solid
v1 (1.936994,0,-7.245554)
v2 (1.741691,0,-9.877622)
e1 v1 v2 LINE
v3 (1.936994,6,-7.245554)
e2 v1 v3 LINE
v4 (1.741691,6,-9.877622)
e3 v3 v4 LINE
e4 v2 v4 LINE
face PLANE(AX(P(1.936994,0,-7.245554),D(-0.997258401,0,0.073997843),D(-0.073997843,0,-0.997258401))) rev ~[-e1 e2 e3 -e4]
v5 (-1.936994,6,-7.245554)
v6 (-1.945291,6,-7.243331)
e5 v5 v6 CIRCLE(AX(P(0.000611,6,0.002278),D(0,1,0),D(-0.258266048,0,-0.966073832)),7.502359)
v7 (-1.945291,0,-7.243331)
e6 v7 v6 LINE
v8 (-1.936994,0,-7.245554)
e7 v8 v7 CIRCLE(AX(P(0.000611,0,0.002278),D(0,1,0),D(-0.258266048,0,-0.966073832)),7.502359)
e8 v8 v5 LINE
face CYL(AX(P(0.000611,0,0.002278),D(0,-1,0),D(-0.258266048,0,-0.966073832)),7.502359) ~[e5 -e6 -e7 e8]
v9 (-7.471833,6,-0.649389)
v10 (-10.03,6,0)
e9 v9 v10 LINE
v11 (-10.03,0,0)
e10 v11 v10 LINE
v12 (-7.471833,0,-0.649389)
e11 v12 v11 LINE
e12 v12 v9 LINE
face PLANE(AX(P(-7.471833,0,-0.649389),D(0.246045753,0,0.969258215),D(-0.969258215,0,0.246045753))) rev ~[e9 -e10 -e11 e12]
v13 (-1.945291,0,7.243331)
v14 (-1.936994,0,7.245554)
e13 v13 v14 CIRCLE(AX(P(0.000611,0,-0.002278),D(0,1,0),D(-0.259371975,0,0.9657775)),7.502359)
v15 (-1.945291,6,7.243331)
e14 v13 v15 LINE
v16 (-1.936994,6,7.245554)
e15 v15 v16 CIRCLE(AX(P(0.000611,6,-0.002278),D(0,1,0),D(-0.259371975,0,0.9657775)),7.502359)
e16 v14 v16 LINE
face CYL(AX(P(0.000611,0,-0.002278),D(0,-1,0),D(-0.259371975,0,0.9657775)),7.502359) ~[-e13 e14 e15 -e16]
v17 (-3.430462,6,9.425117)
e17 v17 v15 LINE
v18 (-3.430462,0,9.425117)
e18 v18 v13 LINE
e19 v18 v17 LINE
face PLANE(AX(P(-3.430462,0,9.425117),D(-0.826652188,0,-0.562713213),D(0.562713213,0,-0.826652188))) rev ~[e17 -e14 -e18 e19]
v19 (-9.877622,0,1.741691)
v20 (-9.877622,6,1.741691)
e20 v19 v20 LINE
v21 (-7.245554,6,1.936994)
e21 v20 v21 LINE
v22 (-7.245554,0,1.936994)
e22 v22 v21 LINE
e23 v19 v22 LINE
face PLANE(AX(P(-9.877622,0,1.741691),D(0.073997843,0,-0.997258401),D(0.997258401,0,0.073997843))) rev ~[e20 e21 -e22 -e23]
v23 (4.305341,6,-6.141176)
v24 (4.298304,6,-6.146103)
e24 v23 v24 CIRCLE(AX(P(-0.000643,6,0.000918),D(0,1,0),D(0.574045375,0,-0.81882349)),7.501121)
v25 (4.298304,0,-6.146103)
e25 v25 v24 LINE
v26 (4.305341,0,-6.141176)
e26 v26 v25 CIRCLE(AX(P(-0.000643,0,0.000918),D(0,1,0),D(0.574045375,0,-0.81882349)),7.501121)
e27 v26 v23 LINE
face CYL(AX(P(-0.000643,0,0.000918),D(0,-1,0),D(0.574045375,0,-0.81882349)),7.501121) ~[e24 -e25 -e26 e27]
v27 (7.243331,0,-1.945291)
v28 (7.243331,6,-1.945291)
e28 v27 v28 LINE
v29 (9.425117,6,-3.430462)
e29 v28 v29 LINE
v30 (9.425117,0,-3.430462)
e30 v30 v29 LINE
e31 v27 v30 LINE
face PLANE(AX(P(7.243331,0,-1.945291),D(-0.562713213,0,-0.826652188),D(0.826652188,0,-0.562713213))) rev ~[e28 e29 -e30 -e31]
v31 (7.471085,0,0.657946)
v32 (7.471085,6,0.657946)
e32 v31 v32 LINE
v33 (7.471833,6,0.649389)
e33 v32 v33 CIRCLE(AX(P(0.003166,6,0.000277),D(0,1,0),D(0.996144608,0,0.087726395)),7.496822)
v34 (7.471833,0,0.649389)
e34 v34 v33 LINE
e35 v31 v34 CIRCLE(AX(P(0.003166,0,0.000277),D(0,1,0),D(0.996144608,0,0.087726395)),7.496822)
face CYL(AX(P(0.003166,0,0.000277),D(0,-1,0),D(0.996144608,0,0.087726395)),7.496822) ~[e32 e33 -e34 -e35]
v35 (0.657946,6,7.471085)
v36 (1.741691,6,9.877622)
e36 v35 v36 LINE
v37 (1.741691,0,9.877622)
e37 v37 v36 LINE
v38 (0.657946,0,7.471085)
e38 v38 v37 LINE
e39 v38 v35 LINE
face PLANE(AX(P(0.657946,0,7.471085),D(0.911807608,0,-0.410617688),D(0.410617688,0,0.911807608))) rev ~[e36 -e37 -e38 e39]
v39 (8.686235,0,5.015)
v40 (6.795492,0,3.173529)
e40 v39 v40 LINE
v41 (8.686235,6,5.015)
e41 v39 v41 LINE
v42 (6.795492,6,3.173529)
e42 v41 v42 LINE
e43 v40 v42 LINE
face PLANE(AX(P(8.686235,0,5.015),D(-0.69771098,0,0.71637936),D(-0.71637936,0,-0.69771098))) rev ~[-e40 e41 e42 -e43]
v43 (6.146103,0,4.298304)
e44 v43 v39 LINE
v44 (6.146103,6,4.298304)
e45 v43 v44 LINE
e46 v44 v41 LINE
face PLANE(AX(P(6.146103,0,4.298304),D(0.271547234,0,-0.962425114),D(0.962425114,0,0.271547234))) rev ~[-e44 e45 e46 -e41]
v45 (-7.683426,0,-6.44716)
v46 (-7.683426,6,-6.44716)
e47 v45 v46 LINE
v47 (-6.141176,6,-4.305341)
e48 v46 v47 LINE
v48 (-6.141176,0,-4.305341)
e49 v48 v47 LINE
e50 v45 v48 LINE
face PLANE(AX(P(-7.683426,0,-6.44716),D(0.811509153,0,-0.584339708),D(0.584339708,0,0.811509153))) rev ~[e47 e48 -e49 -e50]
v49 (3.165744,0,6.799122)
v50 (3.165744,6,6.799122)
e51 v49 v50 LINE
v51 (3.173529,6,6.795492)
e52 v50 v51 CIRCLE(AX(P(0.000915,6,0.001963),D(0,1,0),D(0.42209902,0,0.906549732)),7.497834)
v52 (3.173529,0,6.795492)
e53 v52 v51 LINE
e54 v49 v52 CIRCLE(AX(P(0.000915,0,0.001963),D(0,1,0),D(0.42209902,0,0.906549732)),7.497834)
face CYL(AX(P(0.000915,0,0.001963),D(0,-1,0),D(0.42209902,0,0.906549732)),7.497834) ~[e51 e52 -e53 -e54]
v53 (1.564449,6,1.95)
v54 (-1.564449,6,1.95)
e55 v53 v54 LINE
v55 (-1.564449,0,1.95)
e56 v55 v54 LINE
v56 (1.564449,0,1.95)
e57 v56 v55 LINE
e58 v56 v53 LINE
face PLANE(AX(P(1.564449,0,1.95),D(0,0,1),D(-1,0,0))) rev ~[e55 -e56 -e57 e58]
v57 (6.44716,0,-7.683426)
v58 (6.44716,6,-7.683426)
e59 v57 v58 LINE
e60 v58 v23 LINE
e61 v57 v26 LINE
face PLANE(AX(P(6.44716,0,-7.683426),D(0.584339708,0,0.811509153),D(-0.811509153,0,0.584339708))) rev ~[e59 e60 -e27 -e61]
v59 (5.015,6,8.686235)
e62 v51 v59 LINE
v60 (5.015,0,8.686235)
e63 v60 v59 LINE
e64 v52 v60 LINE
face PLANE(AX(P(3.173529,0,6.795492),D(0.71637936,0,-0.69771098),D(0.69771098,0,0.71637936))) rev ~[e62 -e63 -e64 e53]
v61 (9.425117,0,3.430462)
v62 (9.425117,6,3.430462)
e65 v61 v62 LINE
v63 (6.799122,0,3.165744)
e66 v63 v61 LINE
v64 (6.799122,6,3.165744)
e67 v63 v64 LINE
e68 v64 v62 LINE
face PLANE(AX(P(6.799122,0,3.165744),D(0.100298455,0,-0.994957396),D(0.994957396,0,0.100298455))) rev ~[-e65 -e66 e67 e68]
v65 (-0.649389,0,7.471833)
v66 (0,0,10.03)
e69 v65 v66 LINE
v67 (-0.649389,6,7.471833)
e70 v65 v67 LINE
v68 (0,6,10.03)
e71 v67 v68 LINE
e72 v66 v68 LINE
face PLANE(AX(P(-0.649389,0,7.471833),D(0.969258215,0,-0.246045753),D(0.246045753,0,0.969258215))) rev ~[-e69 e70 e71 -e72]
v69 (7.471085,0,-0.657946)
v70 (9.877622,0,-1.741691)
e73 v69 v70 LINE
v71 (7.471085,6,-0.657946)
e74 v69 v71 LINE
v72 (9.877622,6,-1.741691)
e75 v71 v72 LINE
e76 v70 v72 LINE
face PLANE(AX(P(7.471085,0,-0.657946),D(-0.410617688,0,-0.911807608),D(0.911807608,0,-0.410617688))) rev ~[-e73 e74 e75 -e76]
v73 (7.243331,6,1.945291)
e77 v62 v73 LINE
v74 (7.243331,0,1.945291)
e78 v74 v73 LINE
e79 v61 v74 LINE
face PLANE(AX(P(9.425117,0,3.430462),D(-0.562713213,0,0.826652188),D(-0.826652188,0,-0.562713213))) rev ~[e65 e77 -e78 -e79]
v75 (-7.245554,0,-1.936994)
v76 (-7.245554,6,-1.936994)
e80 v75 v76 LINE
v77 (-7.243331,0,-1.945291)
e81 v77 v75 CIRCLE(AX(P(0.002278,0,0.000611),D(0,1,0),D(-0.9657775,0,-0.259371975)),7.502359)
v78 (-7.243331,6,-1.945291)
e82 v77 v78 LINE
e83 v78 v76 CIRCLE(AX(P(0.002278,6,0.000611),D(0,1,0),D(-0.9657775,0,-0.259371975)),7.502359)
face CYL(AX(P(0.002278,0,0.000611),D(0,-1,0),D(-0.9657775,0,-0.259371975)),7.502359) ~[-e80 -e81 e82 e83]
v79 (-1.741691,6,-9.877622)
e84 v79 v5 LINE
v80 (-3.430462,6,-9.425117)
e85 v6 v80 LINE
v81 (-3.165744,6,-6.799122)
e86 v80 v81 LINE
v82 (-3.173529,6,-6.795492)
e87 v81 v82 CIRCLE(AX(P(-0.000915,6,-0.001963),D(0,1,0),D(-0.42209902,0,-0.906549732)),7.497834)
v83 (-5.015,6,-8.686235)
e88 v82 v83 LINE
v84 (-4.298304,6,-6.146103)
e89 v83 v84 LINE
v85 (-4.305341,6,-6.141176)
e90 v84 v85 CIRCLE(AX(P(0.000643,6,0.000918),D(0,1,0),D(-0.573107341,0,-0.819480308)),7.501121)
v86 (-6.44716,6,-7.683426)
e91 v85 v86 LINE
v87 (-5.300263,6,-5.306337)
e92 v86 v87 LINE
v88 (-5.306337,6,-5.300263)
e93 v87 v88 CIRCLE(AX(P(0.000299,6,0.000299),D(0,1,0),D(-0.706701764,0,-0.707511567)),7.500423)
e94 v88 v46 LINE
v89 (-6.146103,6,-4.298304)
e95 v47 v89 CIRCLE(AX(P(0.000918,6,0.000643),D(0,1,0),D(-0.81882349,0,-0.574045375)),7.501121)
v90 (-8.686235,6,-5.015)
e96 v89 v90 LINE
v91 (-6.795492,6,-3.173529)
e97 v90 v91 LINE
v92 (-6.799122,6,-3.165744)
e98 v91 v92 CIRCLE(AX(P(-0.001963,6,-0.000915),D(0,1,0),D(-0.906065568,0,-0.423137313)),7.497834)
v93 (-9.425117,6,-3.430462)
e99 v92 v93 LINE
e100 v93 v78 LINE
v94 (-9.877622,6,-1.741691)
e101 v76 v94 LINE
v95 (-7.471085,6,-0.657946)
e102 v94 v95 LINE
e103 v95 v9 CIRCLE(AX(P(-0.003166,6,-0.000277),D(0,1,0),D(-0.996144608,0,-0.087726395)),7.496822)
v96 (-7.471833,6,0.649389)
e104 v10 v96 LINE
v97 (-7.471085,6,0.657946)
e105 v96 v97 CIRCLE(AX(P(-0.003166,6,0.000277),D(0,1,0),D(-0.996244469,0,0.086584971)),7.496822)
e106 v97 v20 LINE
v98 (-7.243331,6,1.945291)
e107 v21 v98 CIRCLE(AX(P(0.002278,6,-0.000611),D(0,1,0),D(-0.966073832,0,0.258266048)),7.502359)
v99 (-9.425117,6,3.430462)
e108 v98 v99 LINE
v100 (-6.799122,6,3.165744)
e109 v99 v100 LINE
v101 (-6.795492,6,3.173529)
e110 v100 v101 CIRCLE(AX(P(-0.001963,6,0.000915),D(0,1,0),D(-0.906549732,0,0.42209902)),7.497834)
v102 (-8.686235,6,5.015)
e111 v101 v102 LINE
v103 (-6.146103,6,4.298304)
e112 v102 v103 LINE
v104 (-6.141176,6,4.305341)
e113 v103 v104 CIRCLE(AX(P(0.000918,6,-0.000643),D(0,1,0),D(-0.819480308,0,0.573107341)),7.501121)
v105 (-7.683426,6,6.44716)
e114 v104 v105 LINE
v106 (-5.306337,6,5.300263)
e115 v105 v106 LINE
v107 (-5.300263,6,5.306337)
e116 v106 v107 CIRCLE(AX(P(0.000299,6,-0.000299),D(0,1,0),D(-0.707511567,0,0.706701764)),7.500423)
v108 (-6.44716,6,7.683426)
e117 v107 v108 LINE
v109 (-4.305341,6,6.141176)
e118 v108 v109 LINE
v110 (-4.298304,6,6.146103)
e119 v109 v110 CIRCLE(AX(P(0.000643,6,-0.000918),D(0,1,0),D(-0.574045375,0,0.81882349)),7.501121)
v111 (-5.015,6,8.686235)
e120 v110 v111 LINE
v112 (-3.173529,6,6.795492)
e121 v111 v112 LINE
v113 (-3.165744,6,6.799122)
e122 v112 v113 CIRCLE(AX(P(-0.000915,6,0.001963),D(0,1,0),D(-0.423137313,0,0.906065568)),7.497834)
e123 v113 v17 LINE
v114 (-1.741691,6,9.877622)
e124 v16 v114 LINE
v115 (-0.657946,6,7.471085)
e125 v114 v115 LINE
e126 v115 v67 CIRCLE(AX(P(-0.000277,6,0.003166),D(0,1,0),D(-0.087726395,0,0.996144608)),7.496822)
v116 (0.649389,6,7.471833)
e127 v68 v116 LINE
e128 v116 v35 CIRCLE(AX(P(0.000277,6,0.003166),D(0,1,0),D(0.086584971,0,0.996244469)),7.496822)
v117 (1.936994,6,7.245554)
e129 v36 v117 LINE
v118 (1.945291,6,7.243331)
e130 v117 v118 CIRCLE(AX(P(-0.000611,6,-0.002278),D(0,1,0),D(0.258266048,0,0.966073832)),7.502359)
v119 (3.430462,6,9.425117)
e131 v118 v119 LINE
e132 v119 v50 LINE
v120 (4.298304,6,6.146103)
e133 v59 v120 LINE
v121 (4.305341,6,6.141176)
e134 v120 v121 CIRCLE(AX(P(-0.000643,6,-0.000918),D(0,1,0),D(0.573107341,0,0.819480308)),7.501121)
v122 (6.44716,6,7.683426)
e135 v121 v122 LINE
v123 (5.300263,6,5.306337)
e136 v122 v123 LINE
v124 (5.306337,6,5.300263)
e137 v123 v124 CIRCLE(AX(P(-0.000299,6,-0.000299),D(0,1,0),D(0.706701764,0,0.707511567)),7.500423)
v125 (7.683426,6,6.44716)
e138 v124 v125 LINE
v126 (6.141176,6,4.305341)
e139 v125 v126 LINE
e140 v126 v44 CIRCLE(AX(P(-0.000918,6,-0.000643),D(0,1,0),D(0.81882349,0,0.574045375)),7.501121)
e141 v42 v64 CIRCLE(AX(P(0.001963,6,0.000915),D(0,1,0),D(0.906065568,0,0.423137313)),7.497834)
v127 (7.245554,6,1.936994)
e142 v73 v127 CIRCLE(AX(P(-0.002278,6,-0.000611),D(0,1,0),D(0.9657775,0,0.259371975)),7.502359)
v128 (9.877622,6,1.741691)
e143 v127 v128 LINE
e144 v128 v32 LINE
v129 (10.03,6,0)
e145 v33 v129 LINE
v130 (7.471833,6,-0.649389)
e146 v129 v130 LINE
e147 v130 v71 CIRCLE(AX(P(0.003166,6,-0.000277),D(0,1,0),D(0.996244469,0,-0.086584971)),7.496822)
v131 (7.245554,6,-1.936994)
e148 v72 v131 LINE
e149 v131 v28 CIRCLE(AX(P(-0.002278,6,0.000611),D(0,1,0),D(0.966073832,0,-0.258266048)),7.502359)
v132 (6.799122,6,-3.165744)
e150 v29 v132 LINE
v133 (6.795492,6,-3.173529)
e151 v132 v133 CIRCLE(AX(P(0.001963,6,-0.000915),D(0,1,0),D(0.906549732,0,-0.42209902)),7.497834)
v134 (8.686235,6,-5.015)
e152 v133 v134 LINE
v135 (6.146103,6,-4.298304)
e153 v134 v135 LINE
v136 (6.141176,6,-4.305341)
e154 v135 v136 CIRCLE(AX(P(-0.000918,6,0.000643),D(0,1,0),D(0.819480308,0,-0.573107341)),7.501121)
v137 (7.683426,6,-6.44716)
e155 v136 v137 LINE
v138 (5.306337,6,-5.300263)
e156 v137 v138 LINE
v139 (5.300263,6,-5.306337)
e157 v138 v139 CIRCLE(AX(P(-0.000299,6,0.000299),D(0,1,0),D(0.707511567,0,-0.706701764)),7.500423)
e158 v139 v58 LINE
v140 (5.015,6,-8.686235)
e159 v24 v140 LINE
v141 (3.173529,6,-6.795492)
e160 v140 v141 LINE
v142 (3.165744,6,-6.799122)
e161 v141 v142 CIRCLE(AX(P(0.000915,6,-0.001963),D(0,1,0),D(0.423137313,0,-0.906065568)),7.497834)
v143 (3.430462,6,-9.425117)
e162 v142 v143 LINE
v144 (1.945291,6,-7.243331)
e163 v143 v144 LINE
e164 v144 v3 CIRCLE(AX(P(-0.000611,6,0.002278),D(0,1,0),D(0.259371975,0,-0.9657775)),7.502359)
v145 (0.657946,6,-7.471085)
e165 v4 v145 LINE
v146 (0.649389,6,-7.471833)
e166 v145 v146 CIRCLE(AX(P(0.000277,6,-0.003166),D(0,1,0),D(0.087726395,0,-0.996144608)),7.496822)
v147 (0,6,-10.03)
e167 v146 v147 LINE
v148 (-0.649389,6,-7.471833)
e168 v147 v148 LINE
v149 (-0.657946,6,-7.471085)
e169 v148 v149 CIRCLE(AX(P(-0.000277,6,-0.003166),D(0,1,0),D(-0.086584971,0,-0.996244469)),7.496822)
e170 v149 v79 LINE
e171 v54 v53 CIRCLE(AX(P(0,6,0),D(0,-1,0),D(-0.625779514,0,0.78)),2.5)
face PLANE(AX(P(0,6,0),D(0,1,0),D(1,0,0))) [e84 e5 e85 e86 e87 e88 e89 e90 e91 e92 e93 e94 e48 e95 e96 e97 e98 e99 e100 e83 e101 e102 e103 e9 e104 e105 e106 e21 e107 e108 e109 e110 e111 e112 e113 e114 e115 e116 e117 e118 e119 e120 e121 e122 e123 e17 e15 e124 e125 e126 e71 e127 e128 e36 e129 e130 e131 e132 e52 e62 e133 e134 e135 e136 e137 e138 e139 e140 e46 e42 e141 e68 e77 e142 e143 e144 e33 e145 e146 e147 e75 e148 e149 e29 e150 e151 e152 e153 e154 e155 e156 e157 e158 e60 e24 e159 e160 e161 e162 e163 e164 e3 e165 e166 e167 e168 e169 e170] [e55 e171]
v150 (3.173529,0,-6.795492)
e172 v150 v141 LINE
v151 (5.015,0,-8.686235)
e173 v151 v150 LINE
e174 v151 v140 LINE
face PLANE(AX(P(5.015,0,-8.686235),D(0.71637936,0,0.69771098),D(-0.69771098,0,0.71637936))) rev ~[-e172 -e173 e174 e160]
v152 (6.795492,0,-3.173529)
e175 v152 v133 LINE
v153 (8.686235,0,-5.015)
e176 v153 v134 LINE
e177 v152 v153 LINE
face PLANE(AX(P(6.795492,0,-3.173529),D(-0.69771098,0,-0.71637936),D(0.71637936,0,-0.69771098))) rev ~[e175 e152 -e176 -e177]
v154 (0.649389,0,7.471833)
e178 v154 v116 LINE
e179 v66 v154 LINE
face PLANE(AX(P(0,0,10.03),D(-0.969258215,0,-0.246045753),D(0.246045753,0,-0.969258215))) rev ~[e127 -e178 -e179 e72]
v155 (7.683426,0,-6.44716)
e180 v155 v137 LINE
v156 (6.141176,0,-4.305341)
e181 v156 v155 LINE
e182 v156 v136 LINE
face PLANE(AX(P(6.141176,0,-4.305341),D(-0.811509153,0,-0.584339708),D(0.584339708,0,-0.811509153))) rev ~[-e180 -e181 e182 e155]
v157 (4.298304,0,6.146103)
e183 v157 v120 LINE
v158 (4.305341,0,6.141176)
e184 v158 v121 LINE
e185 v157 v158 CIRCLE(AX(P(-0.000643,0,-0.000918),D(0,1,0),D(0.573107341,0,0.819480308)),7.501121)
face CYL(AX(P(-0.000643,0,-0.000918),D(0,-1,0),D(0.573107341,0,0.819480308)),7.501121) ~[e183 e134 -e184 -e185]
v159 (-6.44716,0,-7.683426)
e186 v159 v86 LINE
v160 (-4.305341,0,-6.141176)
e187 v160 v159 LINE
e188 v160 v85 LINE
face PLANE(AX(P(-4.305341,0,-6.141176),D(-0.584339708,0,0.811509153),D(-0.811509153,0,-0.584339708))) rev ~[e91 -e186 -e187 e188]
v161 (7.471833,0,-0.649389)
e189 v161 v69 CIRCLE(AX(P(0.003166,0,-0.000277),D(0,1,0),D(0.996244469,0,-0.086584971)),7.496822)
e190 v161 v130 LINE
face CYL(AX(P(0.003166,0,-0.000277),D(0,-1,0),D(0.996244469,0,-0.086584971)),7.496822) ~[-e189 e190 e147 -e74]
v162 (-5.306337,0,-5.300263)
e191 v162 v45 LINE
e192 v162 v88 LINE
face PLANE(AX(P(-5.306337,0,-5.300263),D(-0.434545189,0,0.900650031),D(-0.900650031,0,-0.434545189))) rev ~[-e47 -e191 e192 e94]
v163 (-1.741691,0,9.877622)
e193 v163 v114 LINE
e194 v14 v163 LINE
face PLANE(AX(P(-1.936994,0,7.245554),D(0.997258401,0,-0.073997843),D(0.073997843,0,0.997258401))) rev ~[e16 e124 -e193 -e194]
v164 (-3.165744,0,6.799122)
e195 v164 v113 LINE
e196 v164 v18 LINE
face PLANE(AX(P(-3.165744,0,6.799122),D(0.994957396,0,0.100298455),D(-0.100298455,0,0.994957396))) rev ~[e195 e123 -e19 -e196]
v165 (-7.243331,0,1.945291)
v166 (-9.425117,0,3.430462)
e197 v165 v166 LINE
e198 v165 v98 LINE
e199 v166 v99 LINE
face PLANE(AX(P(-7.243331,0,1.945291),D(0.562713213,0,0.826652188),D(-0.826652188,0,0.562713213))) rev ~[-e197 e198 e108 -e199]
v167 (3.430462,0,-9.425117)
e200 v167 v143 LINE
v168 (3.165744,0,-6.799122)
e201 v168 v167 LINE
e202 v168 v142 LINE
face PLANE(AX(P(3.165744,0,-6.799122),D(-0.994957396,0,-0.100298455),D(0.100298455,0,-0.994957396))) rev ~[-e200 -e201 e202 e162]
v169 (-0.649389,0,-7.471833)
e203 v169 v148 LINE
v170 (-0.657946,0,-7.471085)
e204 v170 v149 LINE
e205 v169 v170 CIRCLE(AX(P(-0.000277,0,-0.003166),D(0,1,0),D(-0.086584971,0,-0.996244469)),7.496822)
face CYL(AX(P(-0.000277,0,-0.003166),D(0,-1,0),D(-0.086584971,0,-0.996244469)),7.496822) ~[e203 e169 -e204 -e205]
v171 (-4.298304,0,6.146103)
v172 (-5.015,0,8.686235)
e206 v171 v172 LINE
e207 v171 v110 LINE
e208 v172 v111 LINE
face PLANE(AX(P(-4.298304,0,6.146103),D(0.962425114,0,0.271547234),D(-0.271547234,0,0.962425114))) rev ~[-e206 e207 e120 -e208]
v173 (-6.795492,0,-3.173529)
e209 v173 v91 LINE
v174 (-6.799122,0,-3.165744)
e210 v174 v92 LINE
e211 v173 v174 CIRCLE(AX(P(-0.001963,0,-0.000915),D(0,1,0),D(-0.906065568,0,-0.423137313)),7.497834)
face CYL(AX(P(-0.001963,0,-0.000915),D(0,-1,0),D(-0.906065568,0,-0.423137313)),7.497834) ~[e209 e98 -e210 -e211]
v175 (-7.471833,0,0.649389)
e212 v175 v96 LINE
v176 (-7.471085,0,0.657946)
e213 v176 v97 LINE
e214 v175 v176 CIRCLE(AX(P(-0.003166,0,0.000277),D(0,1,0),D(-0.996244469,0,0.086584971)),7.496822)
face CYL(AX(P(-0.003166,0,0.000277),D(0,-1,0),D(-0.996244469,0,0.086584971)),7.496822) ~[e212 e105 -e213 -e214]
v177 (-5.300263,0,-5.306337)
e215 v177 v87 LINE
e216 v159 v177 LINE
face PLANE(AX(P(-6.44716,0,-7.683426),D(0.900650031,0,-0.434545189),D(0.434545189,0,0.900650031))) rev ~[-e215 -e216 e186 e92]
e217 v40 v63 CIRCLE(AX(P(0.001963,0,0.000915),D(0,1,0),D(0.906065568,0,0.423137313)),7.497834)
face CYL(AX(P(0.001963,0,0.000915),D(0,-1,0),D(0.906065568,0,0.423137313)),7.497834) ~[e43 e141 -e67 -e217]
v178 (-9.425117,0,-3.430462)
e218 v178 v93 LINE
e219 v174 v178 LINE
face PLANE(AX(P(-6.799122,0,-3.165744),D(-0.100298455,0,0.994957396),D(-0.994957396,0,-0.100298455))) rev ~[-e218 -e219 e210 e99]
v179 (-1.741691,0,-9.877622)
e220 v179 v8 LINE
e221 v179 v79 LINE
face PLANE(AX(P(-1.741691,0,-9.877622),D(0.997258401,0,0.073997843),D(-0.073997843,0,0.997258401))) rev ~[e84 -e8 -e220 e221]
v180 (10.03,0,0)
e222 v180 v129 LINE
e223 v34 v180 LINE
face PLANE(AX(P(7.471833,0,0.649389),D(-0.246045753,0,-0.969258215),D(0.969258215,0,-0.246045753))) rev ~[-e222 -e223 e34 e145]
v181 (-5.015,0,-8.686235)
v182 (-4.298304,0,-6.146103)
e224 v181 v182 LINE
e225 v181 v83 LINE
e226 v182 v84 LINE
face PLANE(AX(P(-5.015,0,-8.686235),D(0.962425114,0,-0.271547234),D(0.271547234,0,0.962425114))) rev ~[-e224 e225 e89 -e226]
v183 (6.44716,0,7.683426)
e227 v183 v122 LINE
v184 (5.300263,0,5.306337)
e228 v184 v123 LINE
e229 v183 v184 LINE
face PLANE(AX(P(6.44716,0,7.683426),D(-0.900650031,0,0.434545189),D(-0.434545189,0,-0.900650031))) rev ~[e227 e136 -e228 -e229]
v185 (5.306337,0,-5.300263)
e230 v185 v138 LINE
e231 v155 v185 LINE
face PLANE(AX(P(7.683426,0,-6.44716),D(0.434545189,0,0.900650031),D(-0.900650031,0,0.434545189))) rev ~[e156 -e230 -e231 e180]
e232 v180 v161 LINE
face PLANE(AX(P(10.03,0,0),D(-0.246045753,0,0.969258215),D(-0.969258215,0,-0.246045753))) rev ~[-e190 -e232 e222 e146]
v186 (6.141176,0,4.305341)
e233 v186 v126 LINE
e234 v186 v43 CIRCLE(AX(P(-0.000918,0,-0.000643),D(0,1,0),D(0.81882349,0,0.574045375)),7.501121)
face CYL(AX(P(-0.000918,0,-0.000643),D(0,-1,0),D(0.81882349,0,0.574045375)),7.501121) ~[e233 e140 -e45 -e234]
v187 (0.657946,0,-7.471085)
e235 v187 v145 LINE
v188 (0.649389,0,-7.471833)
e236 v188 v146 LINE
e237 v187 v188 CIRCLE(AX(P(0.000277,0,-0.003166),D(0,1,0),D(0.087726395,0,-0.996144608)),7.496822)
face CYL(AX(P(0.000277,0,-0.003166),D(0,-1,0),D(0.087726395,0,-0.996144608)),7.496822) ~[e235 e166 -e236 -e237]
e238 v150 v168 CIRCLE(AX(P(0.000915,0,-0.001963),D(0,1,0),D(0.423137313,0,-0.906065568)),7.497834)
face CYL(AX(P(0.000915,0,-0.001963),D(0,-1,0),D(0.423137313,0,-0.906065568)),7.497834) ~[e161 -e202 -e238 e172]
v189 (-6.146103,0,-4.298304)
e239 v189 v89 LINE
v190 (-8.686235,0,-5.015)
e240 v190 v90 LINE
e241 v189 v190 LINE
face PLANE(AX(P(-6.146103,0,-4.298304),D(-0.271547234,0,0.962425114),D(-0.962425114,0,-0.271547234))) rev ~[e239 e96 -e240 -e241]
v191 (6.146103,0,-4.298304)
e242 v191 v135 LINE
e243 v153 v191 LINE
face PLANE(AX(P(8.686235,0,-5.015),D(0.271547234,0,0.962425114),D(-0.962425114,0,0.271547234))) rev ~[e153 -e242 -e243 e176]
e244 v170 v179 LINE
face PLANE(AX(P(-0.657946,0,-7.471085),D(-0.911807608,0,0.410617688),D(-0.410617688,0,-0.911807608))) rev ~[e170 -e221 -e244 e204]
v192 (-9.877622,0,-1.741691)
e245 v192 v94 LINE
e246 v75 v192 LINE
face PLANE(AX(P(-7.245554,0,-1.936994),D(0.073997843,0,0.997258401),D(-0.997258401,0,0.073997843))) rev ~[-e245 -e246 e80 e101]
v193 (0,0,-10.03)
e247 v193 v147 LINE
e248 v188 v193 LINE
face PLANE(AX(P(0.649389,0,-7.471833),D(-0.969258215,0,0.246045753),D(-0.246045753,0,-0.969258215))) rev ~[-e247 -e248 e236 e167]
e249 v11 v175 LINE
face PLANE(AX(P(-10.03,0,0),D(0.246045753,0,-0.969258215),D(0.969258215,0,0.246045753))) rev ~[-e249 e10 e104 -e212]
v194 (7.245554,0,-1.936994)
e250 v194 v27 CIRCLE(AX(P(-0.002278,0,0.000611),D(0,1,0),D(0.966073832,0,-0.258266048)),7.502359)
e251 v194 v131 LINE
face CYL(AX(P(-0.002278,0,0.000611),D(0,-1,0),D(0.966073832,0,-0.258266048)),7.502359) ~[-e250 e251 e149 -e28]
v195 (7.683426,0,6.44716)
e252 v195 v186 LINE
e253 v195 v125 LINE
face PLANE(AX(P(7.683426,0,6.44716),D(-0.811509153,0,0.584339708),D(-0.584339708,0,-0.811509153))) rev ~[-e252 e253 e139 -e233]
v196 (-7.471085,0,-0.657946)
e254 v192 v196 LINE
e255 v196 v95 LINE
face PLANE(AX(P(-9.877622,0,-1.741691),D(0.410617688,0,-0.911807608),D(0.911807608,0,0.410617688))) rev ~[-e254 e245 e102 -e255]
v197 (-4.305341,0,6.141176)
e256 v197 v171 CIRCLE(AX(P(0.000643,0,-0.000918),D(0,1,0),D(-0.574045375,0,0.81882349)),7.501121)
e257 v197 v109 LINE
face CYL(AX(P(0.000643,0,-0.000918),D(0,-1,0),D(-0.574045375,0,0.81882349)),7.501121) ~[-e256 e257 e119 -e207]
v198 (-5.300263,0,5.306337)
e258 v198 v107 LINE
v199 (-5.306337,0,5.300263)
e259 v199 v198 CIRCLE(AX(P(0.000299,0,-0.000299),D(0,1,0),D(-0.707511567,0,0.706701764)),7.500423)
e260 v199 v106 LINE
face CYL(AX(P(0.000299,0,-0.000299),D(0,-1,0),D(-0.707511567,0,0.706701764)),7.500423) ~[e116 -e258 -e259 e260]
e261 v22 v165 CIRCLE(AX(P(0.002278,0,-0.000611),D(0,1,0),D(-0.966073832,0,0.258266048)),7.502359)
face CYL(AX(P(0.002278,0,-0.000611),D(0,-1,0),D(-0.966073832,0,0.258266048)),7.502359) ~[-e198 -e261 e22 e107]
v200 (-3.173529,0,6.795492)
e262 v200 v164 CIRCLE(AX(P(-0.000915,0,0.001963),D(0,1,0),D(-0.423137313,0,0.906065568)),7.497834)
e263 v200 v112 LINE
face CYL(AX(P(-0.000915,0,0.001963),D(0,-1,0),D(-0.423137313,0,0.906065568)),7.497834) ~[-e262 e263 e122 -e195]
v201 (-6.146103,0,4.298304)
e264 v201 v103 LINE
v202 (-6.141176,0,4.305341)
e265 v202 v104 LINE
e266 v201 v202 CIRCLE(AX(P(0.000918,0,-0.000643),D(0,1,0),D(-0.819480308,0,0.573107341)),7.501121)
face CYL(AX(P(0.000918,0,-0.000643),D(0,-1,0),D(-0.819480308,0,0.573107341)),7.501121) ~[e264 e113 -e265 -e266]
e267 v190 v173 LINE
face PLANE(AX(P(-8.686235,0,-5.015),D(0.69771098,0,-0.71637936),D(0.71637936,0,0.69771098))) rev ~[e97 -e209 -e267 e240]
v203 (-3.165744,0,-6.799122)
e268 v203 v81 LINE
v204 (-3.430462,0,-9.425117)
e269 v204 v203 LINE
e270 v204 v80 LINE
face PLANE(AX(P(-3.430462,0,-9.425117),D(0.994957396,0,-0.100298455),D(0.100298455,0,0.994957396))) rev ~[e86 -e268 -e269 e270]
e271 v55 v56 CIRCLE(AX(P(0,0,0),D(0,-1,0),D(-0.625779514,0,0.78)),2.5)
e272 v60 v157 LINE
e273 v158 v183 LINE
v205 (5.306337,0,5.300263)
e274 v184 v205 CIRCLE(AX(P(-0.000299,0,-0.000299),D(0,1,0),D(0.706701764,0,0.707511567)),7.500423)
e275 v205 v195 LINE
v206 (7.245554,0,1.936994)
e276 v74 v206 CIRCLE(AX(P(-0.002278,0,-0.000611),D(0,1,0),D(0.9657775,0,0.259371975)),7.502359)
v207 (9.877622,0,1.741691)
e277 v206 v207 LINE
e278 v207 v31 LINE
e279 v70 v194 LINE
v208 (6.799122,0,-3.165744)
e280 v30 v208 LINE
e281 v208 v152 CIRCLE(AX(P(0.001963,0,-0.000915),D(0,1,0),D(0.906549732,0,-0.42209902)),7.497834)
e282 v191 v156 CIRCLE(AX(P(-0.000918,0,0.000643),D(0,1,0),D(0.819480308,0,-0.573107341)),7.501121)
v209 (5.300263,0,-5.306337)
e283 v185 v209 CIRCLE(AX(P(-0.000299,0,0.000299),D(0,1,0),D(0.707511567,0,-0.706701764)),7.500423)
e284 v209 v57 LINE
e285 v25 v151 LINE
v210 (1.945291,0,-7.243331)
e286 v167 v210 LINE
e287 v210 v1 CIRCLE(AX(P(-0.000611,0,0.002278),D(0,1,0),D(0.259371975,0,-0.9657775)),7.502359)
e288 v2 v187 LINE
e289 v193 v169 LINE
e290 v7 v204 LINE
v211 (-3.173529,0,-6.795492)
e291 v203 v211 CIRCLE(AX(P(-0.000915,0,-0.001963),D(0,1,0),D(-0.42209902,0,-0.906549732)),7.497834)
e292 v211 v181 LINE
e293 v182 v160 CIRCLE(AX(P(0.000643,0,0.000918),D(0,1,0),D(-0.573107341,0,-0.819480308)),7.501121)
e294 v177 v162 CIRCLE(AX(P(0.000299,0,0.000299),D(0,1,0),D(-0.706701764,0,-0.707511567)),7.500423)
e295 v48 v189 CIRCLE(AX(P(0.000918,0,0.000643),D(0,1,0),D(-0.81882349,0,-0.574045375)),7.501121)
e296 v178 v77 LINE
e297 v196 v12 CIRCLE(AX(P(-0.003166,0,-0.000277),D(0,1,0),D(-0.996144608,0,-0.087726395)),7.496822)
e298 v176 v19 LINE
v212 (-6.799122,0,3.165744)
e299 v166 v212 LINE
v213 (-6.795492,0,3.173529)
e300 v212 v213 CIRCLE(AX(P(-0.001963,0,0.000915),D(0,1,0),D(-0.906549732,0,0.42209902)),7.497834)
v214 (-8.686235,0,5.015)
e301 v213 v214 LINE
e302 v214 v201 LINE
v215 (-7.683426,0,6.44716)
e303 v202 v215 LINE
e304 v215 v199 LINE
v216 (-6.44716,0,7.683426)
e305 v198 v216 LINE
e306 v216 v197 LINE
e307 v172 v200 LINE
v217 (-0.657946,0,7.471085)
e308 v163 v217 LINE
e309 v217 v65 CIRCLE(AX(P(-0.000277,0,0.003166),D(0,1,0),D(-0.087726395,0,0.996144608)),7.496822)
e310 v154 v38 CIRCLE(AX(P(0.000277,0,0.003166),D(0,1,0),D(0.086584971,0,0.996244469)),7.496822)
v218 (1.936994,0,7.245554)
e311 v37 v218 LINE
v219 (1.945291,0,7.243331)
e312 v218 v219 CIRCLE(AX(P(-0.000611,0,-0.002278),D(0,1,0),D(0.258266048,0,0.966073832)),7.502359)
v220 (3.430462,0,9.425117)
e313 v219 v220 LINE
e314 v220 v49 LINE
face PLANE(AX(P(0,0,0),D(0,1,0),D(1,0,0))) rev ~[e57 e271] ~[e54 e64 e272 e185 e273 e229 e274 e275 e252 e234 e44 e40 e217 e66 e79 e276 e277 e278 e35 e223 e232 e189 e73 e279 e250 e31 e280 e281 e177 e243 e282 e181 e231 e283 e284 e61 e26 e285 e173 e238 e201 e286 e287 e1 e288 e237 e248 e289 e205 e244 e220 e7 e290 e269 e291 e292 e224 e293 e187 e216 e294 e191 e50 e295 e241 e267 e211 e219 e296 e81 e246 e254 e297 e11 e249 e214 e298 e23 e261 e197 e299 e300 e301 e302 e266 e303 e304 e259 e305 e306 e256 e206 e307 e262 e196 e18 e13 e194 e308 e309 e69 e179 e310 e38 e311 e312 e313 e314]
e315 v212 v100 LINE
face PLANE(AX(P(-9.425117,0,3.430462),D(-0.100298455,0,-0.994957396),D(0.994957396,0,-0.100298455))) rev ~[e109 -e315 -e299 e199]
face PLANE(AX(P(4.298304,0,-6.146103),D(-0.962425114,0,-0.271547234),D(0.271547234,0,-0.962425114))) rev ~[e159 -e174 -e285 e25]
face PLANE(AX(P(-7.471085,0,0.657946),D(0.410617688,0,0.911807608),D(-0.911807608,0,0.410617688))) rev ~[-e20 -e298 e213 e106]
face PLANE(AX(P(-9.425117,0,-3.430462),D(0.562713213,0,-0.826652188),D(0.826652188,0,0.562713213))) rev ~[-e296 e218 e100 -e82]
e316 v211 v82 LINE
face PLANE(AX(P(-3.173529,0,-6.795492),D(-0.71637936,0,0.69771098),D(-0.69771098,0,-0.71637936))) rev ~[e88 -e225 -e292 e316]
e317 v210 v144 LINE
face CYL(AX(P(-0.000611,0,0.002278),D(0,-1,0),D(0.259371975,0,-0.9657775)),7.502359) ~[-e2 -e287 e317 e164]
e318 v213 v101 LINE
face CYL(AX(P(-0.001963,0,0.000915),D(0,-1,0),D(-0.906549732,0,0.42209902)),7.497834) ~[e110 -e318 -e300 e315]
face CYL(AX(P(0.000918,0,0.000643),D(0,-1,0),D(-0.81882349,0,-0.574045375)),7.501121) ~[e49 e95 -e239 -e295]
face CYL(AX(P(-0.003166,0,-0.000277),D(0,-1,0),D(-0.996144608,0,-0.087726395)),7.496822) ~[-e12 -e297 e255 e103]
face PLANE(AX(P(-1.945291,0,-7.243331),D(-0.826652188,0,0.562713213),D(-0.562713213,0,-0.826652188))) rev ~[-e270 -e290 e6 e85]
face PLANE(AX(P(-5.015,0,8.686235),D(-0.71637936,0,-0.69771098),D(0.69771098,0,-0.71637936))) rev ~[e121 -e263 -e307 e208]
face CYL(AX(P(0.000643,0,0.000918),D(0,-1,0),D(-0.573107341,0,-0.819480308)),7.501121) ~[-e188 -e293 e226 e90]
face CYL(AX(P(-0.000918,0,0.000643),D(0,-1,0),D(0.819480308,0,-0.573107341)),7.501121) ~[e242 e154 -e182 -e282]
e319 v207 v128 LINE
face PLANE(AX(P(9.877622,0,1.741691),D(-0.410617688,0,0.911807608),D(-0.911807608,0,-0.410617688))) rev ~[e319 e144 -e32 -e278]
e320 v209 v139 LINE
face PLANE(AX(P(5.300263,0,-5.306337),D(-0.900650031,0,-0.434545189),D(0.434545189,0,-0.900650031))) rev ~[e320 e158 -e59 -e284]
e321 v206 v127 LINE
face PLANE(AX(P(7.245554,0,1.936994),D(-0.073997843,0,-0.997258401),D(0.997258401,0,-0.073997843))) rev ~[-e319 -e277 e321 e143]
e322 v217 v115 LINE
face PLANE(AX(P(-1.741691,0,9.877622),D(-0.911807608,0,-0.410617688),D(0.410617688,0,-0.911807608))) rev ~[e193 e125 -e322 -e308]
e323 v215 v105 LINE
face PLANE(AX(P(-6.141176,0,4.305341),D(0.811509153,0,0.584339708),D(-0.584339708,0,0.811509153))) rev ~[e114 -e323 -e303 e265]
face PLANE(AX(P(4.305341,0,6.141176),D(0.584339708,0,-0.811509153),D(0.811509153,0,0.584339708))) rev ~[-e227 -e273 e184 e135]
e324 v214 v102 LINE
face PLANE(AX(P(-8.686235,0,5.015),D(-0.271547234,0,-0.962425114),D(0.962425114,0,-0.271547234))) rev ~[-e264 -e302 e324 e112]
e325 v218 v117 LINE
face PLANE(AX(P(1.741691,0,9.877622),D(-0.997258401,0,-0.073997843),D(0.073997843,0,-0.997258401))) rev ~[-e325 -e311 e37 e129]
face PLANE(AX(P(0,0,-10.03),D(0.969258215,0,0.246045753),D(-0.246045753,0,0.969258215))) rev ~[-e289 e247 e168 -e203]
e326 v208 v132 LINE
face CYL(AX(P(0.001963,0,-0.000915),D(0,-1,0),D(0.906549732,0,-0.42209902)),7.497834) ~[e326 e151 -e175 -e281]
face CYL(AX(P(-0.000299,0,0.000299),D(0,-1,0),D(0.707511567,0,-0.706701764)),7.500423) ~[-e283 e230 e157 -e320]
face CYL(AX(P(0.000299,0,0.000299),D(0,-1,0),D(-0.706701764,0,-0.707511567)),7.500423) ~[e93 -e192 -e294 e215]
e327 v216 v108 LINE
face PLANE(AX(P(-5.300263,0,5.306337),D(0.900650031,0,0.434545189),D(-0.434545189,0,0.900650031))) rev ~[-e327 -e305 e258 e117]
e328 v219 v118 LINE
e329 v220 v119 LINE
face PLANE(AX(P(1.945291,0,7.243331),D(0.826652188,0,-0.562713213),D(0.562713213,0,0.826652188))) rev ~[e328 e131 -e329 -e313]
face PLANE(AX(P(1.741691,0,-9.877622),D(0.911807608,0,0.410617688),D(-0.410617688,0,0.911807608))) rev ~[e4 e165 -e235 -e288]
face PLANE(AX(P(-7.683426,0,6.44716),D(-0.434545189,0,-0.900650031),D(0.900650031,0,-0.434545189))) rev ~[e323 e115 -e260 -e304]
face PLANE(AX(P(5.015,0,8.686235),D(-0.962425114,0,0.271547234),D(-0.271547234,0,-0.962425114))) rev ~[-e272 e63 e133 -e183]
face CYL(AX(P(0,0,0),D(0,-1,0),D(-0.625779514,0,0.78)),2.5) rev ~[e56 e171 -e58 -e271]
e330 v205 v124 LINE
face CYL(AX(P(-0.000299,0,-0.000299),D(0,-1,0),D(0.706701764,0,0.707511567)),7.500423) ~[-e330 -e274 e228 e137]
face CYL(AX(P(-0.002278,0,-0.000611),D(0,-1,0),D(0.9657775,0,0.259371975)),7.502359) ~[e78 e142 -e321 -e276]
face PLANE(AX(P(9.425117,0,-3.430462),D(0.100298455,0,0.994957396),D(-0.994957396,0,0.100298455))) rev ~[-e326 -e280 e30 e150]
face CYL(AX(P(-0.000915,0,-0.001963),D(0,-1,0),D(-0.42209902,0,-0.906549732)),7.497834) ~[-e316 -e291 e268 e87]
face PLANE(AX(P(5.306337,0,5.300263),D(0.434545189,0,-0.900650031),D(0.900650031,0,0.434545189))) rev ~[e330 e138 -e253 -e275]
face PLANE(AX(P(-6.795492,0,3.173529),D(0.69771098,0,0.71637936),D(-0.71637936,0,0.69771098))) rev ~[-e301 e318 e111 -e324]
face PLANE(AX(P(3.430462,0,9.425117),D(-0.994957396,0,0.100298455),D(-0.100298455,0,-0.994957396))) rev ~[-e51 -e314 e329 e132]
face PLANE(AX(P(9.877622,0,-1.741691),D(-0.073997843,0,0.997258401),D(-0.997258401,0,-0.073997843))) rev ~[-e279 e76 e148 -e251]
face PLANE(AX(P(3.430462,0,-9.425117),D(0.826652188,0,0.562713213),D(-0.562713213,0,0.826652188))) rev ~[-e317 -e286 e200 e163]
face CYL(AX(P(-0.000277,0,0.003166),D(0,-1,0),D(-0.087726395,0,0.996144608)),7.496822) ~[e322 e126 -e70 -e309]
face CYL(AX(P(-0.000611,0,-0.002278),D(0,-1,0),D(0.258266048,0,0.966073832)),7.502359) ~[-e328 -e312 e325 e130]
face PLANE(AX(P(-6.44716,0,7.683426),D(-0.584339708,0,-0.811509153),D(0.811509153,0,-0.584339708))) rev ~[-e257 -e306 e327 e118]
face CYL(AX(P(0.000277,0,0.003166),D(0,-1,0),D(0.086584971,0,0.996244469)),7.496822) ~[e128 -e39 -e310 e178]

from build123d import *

# Parameters (mm, degrees)
EXTRUDE_2_DEPTH = 6


with BuildPart() as part:
    # Эскиз1 → Бобышка-Вытянуть2 (new body)
    with BuildSketch(Plane(origin=(0, 0, 0), x_dir=(1, 0, 0), z_dir=(0, 1, 0))):
        with BuildLine():
            Line((0, 10.03), (-0.649389435, 7.471833333))
            ThreePointArc((-0.649389435, 7.471833333), (-0.653668071, 7.471460236), (-0.657946491, 7.471084688))
            Line((-0.657946491, 7.471084688), (-1.741691222, 9.877621763))
            Line((-1.741691222, 9.877621763), (-1.936993993, 7.245554104))
            ThreePointArc((-1.936993993, 7.245554104), (-1.941142838, 7.244443697), (-1.945291047, 7.243330915))
            Line((-1.945291047, 7.243330915), (-3.430462038, 9.425116986))
            Line((-3.430462038, 9.425116986), (-3.165743968, 6.799122379))
            ThreePointArc((-3.165743968, 6.799122379), (-3.169636963, 6.797308403), (-3.173528919, 6.795492197))
            Line((-3.173528919, 6.795492197), (-5.015, 8.6862348))
            Line((-5.015, 8.6862348), (-4.298304415, 6.146102762))
            ThreePointArc((-4.298304415, 6.146102762), (-4.301823273, 6.143640332), (-4.30534072, 6.141175888))
            Line((-4.30534072, 6.141175888), (-6.447159725, 7.683425764))
            Line((-6.447159725, 7.683425764), (-5.300263057, 5.306336922))
            ThreePointArc((-5.300263057, 5.306336922), (-5.303300859, 5.303300859), (-5.306336922, 5.300263057))
            Line((-5.306336922, 5.300263057), (-7.683425764, 6.447159725))
            Line((-7.683425764, 6.447159725), (-6.141175888, 4.30534072))
            ThreePointArc((-6.141175888, 4.30534072), (-6.143640332, 4.301823273), (-6.146102762, 4.298304415))
            Line((-6.146102762, 4.298304415), (-8.6862348, 5.015))
            Line((-8.6862348, 5.015), (-6.795492197, 3.173528919))
            ThreePointArc((-6.795492197, 3.173528919), (-6.797308403, 3.169636963), (-6.799122379, 3.165743968))
            Line((-6.799122379, 3.165743968), (-9.425116986, 3.430462038))
            Line((-9.425116986, 3.430462038), (-7.243330915, 1.945291047))
            ThreePointArc((-7.243330915, 1.945291047), (-7.244443697, 1.941142838), (-7.245554104, 1.936993993))
            Line((-7.245554104, 1.936993993), (-9.877621763, 1.741691222))
            Line((-9.877621763, 1.741691222), (-7.471084688, 0.657946491))
            ThreePointArc((-7.471084688, 0.657946491), (-7.471460236, 0.653668071), (-7.471833333, 0.649389435))
            Line((-7.471833333, 0.649389435), (-10.03, 0))
            Line((-10.03, 0), (-7.471833333, -0.649389435))
            ThreePointArc((-7.471833333, -0.649389435), (-7.471460236, -0.653668071), (-7.471084688, -0.657946491))
            Line((-7.471084688, -0.657946491), (-9.877621763, -1.741691222))
            Line((-9.877621763, -1.741691222), (-7.245554104, -1.936993993))
            ThreePointArc((-7.245554104, -1.936993993), (-7.244443697, -1.941142838), (-7.243330915, -1.945291047))
            Line((-7.243330915, -1.945291047), (-9.425116986, -3.430462038))
            Line((-9.425116986, -3.430462038), (-6.799122379, -3.165743968))
            ThreePointArc((-6.799122379, -3.165743968), (-6.797308403, -3.169636963), (-6.795492197, -3.173528919))
            Line((-6.795492197, -3.173528919), (-8.6862348, -5.015))
            Line((-8.6862348, -5.015), (-6.146102762, -4.298304415))
            ThreePointArc((-6.146102762, -4.298304415), (-6.143640332, -4.301823273), (-6.141175888, -4.30534072))
            Line((-6.141175888, -4.30534072), (-7.683425764, -6.447159725))
            Line((-7.683425764, -6.447159725), (-5.306336922, -5.300263057))
            ThreePointArc((-5.306336922, -5.300263057), (-5.303300859, -5.303300859), (-5.300263057, -5.306336922))
            Line((-5.300263057, -5.306336922), (-6.447159725, -7.683425764))
            Line((-6.447159725, -7.683425764), (-4.30534072, -6.141175888))
            ThreePointArc((-4.30534072, -6.141175888), (-4.301823273, -6.143640332), (-4.298304415, -6.146102762))
            Line((-4.298304415, -6.146102762), (-5.015, -8.6862348))
            Line((-5.015, -8.6862348), (-3.173528919, -6.795492197))
            ThreePointArc((-3.173528919, -6.795492197), (-3.169636963, -6.797308403), (-3.165743968, -6.799122379))
            Line((-3.165743968, -6.799122379), (-3.430462038, -9.425116986))
            Line((-3.430462038, -9.425116986), (-1.945291047, -7.243330915))
            ThreePointArc((-1.945291047, -7.243330915), (-1.941142838, -7.244443697), (-1.936993993, -7.245554104))
            Line((-1.936993993, -7.245554104), (-1.741691222, -9.877621763))
            Line((-1.741691222, -9.877621763), (-0.657946491, -7.471084688))
            ThreePointArc((-0.657946491, -7.471084688), (-0.653668071, -7.471460236), (-0.649389435, -7.471833333))
            Line((-0.649389435, -7.471833333), (0, -10.03))
            Line((0, -10.03), (0.649389435, -7.471833333))
            ThreePointArc((0.649389435, -7.471833333), (0.653668071, -7.471460236), (0.657946491, -7.471084688))
            Line((0.657946491, -7.471084688), (1.741691222, -9.877621763))
            Line((1.741691222, -9.877621763), (1.936993993, -7.245554104))
            ThreePointArc((1.936993993, -7.245554104), (1.941142838, -7.244443697), (1.945291047, -7.243330915))
            Line((1.945291047, -7.243330915), (3.430462038, -9.425116986))
            Line((3.430462038, -9.425116986), (3.165743968, -6.799122379))
            ThreePointArc((3.165743968, -6.799122379), (3.169636963, -6.797308403), (3.173528919, -6.795492197))
            Line((3.173528919, -6.795492197), (5.015, -8.6862348))
            Line((5.015, -8.6862348), (4.298304415, -6.146102762))
            ThreePointArc((4.298304415, -6.146102762), (4.301823273, -6.143640332), (4.30534072, -6.141175888))
            Line((4.30534072, -6.141175888), (6.447159725, -7.683425764))
            Line((6.447159725, -7.683425764), (5.300263057, -5.306336922))
            ThreePointArc((5.300263057, -5.306336922), (5.303300859, -5.303300859), (5.306336922, -5.300263057))
            Line((5.306336922, -5.300263057), (7.683425764, -6.447159725))
            Line((7.683425764, -6.447159725), (6.141175888, -4.30534072))
            ThreePointArc((6.141175888, -4.30534072), (6.143640332, -4.301823273), (6.146102762, -4.298304415))
            Line((6.146102762, -4.298304415), (8.6862348, -5.015))
            Line((8.6862348, -5.015), (6.795492197, -3.173528919))
            ThreePointArc((6.795492197, -3.173528919), (6.797308403, -3.169636963), (6.799122379, -3.165743968))
            Line((6.799122379, -3.165743968), (9.425116986, -3.430462038))
            Line((9.425116986, -3.430462038), (7.243330915, -1.945291047))
            ThreePointArc((7.243330915, -1.945291047), (7.244443697, -1.941142838), (7.245554104, -1.936993993))
            Line((7.245554104, -1.936993993), (9.877621763, -1.741691222))
            Line((9.877621763, -1.741691222), (7.471084688, -0.657946491))
            ThreePointArc((7.471084688, -0.657946491), (7.471460236, -0.653668071), (7.471833333, -0.649389435))
            Line((7.471833333, -0.649389435), (10.03, 0))
            Line((10.03, 0), (7.471833333, 0.649389435))
            ThreePointArc((7.471833333, 0.649389435), (7.471460236, 0.653668071), (7.471084688, 0.657946491))
            Line((7.471084688, 0.657946491), (9.877621763, 1.741691222))
            Line((9.877621763, 1.741691222), (7.245554104, 1.936993993))
            ThreePointArc((7.245554104, 1.936993993), (7.244443697, 1.941142838), (7.243330915, 1.945291047))
            Line((7.243330915, 1.945291047), (9.425116986, 3.430462038))
            Line((9.425116986, 3.430462038), (6.799122379, 3.165743968))
            ThreePointArc((6.799122379, 3.165743968), (6.797308403, 3.169636963), (6.795492197, 3.173528919))
            Line((6.795492197, 3.173528919), (8.6862348, 5.015))
            Line((8.6862348, 5.015), (6.146102762, 4.298304415))
            ThreePointArc((6.146102762, 4.298304415), (6.143640332, 4.301823273), (6.141175888, 4.30534072))
            Line((6.141175888, 4.30534072), (7.683425764, 6.447159725))
            Line((7.683425764, 6.447159725), (5.306336922, 5.300263057))
            ThreePointArc((5.306336922, 5.300263057), (5.303300859, 5.303300859), (5.300263057, 5.306336922))
            Line((5.300263057, 5.306336922), (6.447159725, 7.683425764))
            Line((6.447159725, 7.683425764), (4.30534072, 6.141175888))
            ThreePointArc((4.30534072, 6.141175888), (4.301823273, 6.143640332), (4.298304415, 6.146102762))
            Line((4.298304415, 6.146102762), (5.015, 8.6862348))
            Line((5.015, 8.6862348), (3.173528919, 6.795492197))
            ThreePointArc((3.173528919, 6.795492197), (3.169636963, 6.797308403), (3.165743968, 6.799122379))
            Line((3.165743968, 6.799122379), (3.430462038, 9.425116986))
            Line((3.430462038, 9.425116986), (1.945291047, 7.243330915))
            ThreePointArc((1.945291047, 7.243330915), (1.941142838, 7.244443697), (1.936993993, 7.245554104))
            Line((1.936993993, 7.245554104), (1.741691222, 9.877621763))
            Line((1.741691222, 9.877621763), (0.657946491, 7.471084688))
            ThreePointArc((0.657946491, 7.471084688), (0.653668071, 7.471460236), (0.649389435, 7.471833333))
            Line((0.649389435, 7.471833333), (0, 10.03))
        make_face()
        with BuildLine():
            ThreePointArc((-1.564448785, -1.95), (0, 2.5), (1.564448785, -1.95))
            Line((1.564448785, -1.95), (-1.564448785, -1.95))
        make_face(mode=Mode.SUBTRACT)
    extrude(amount=EXTRUDE_2_DEPTH)


solid = part.part
